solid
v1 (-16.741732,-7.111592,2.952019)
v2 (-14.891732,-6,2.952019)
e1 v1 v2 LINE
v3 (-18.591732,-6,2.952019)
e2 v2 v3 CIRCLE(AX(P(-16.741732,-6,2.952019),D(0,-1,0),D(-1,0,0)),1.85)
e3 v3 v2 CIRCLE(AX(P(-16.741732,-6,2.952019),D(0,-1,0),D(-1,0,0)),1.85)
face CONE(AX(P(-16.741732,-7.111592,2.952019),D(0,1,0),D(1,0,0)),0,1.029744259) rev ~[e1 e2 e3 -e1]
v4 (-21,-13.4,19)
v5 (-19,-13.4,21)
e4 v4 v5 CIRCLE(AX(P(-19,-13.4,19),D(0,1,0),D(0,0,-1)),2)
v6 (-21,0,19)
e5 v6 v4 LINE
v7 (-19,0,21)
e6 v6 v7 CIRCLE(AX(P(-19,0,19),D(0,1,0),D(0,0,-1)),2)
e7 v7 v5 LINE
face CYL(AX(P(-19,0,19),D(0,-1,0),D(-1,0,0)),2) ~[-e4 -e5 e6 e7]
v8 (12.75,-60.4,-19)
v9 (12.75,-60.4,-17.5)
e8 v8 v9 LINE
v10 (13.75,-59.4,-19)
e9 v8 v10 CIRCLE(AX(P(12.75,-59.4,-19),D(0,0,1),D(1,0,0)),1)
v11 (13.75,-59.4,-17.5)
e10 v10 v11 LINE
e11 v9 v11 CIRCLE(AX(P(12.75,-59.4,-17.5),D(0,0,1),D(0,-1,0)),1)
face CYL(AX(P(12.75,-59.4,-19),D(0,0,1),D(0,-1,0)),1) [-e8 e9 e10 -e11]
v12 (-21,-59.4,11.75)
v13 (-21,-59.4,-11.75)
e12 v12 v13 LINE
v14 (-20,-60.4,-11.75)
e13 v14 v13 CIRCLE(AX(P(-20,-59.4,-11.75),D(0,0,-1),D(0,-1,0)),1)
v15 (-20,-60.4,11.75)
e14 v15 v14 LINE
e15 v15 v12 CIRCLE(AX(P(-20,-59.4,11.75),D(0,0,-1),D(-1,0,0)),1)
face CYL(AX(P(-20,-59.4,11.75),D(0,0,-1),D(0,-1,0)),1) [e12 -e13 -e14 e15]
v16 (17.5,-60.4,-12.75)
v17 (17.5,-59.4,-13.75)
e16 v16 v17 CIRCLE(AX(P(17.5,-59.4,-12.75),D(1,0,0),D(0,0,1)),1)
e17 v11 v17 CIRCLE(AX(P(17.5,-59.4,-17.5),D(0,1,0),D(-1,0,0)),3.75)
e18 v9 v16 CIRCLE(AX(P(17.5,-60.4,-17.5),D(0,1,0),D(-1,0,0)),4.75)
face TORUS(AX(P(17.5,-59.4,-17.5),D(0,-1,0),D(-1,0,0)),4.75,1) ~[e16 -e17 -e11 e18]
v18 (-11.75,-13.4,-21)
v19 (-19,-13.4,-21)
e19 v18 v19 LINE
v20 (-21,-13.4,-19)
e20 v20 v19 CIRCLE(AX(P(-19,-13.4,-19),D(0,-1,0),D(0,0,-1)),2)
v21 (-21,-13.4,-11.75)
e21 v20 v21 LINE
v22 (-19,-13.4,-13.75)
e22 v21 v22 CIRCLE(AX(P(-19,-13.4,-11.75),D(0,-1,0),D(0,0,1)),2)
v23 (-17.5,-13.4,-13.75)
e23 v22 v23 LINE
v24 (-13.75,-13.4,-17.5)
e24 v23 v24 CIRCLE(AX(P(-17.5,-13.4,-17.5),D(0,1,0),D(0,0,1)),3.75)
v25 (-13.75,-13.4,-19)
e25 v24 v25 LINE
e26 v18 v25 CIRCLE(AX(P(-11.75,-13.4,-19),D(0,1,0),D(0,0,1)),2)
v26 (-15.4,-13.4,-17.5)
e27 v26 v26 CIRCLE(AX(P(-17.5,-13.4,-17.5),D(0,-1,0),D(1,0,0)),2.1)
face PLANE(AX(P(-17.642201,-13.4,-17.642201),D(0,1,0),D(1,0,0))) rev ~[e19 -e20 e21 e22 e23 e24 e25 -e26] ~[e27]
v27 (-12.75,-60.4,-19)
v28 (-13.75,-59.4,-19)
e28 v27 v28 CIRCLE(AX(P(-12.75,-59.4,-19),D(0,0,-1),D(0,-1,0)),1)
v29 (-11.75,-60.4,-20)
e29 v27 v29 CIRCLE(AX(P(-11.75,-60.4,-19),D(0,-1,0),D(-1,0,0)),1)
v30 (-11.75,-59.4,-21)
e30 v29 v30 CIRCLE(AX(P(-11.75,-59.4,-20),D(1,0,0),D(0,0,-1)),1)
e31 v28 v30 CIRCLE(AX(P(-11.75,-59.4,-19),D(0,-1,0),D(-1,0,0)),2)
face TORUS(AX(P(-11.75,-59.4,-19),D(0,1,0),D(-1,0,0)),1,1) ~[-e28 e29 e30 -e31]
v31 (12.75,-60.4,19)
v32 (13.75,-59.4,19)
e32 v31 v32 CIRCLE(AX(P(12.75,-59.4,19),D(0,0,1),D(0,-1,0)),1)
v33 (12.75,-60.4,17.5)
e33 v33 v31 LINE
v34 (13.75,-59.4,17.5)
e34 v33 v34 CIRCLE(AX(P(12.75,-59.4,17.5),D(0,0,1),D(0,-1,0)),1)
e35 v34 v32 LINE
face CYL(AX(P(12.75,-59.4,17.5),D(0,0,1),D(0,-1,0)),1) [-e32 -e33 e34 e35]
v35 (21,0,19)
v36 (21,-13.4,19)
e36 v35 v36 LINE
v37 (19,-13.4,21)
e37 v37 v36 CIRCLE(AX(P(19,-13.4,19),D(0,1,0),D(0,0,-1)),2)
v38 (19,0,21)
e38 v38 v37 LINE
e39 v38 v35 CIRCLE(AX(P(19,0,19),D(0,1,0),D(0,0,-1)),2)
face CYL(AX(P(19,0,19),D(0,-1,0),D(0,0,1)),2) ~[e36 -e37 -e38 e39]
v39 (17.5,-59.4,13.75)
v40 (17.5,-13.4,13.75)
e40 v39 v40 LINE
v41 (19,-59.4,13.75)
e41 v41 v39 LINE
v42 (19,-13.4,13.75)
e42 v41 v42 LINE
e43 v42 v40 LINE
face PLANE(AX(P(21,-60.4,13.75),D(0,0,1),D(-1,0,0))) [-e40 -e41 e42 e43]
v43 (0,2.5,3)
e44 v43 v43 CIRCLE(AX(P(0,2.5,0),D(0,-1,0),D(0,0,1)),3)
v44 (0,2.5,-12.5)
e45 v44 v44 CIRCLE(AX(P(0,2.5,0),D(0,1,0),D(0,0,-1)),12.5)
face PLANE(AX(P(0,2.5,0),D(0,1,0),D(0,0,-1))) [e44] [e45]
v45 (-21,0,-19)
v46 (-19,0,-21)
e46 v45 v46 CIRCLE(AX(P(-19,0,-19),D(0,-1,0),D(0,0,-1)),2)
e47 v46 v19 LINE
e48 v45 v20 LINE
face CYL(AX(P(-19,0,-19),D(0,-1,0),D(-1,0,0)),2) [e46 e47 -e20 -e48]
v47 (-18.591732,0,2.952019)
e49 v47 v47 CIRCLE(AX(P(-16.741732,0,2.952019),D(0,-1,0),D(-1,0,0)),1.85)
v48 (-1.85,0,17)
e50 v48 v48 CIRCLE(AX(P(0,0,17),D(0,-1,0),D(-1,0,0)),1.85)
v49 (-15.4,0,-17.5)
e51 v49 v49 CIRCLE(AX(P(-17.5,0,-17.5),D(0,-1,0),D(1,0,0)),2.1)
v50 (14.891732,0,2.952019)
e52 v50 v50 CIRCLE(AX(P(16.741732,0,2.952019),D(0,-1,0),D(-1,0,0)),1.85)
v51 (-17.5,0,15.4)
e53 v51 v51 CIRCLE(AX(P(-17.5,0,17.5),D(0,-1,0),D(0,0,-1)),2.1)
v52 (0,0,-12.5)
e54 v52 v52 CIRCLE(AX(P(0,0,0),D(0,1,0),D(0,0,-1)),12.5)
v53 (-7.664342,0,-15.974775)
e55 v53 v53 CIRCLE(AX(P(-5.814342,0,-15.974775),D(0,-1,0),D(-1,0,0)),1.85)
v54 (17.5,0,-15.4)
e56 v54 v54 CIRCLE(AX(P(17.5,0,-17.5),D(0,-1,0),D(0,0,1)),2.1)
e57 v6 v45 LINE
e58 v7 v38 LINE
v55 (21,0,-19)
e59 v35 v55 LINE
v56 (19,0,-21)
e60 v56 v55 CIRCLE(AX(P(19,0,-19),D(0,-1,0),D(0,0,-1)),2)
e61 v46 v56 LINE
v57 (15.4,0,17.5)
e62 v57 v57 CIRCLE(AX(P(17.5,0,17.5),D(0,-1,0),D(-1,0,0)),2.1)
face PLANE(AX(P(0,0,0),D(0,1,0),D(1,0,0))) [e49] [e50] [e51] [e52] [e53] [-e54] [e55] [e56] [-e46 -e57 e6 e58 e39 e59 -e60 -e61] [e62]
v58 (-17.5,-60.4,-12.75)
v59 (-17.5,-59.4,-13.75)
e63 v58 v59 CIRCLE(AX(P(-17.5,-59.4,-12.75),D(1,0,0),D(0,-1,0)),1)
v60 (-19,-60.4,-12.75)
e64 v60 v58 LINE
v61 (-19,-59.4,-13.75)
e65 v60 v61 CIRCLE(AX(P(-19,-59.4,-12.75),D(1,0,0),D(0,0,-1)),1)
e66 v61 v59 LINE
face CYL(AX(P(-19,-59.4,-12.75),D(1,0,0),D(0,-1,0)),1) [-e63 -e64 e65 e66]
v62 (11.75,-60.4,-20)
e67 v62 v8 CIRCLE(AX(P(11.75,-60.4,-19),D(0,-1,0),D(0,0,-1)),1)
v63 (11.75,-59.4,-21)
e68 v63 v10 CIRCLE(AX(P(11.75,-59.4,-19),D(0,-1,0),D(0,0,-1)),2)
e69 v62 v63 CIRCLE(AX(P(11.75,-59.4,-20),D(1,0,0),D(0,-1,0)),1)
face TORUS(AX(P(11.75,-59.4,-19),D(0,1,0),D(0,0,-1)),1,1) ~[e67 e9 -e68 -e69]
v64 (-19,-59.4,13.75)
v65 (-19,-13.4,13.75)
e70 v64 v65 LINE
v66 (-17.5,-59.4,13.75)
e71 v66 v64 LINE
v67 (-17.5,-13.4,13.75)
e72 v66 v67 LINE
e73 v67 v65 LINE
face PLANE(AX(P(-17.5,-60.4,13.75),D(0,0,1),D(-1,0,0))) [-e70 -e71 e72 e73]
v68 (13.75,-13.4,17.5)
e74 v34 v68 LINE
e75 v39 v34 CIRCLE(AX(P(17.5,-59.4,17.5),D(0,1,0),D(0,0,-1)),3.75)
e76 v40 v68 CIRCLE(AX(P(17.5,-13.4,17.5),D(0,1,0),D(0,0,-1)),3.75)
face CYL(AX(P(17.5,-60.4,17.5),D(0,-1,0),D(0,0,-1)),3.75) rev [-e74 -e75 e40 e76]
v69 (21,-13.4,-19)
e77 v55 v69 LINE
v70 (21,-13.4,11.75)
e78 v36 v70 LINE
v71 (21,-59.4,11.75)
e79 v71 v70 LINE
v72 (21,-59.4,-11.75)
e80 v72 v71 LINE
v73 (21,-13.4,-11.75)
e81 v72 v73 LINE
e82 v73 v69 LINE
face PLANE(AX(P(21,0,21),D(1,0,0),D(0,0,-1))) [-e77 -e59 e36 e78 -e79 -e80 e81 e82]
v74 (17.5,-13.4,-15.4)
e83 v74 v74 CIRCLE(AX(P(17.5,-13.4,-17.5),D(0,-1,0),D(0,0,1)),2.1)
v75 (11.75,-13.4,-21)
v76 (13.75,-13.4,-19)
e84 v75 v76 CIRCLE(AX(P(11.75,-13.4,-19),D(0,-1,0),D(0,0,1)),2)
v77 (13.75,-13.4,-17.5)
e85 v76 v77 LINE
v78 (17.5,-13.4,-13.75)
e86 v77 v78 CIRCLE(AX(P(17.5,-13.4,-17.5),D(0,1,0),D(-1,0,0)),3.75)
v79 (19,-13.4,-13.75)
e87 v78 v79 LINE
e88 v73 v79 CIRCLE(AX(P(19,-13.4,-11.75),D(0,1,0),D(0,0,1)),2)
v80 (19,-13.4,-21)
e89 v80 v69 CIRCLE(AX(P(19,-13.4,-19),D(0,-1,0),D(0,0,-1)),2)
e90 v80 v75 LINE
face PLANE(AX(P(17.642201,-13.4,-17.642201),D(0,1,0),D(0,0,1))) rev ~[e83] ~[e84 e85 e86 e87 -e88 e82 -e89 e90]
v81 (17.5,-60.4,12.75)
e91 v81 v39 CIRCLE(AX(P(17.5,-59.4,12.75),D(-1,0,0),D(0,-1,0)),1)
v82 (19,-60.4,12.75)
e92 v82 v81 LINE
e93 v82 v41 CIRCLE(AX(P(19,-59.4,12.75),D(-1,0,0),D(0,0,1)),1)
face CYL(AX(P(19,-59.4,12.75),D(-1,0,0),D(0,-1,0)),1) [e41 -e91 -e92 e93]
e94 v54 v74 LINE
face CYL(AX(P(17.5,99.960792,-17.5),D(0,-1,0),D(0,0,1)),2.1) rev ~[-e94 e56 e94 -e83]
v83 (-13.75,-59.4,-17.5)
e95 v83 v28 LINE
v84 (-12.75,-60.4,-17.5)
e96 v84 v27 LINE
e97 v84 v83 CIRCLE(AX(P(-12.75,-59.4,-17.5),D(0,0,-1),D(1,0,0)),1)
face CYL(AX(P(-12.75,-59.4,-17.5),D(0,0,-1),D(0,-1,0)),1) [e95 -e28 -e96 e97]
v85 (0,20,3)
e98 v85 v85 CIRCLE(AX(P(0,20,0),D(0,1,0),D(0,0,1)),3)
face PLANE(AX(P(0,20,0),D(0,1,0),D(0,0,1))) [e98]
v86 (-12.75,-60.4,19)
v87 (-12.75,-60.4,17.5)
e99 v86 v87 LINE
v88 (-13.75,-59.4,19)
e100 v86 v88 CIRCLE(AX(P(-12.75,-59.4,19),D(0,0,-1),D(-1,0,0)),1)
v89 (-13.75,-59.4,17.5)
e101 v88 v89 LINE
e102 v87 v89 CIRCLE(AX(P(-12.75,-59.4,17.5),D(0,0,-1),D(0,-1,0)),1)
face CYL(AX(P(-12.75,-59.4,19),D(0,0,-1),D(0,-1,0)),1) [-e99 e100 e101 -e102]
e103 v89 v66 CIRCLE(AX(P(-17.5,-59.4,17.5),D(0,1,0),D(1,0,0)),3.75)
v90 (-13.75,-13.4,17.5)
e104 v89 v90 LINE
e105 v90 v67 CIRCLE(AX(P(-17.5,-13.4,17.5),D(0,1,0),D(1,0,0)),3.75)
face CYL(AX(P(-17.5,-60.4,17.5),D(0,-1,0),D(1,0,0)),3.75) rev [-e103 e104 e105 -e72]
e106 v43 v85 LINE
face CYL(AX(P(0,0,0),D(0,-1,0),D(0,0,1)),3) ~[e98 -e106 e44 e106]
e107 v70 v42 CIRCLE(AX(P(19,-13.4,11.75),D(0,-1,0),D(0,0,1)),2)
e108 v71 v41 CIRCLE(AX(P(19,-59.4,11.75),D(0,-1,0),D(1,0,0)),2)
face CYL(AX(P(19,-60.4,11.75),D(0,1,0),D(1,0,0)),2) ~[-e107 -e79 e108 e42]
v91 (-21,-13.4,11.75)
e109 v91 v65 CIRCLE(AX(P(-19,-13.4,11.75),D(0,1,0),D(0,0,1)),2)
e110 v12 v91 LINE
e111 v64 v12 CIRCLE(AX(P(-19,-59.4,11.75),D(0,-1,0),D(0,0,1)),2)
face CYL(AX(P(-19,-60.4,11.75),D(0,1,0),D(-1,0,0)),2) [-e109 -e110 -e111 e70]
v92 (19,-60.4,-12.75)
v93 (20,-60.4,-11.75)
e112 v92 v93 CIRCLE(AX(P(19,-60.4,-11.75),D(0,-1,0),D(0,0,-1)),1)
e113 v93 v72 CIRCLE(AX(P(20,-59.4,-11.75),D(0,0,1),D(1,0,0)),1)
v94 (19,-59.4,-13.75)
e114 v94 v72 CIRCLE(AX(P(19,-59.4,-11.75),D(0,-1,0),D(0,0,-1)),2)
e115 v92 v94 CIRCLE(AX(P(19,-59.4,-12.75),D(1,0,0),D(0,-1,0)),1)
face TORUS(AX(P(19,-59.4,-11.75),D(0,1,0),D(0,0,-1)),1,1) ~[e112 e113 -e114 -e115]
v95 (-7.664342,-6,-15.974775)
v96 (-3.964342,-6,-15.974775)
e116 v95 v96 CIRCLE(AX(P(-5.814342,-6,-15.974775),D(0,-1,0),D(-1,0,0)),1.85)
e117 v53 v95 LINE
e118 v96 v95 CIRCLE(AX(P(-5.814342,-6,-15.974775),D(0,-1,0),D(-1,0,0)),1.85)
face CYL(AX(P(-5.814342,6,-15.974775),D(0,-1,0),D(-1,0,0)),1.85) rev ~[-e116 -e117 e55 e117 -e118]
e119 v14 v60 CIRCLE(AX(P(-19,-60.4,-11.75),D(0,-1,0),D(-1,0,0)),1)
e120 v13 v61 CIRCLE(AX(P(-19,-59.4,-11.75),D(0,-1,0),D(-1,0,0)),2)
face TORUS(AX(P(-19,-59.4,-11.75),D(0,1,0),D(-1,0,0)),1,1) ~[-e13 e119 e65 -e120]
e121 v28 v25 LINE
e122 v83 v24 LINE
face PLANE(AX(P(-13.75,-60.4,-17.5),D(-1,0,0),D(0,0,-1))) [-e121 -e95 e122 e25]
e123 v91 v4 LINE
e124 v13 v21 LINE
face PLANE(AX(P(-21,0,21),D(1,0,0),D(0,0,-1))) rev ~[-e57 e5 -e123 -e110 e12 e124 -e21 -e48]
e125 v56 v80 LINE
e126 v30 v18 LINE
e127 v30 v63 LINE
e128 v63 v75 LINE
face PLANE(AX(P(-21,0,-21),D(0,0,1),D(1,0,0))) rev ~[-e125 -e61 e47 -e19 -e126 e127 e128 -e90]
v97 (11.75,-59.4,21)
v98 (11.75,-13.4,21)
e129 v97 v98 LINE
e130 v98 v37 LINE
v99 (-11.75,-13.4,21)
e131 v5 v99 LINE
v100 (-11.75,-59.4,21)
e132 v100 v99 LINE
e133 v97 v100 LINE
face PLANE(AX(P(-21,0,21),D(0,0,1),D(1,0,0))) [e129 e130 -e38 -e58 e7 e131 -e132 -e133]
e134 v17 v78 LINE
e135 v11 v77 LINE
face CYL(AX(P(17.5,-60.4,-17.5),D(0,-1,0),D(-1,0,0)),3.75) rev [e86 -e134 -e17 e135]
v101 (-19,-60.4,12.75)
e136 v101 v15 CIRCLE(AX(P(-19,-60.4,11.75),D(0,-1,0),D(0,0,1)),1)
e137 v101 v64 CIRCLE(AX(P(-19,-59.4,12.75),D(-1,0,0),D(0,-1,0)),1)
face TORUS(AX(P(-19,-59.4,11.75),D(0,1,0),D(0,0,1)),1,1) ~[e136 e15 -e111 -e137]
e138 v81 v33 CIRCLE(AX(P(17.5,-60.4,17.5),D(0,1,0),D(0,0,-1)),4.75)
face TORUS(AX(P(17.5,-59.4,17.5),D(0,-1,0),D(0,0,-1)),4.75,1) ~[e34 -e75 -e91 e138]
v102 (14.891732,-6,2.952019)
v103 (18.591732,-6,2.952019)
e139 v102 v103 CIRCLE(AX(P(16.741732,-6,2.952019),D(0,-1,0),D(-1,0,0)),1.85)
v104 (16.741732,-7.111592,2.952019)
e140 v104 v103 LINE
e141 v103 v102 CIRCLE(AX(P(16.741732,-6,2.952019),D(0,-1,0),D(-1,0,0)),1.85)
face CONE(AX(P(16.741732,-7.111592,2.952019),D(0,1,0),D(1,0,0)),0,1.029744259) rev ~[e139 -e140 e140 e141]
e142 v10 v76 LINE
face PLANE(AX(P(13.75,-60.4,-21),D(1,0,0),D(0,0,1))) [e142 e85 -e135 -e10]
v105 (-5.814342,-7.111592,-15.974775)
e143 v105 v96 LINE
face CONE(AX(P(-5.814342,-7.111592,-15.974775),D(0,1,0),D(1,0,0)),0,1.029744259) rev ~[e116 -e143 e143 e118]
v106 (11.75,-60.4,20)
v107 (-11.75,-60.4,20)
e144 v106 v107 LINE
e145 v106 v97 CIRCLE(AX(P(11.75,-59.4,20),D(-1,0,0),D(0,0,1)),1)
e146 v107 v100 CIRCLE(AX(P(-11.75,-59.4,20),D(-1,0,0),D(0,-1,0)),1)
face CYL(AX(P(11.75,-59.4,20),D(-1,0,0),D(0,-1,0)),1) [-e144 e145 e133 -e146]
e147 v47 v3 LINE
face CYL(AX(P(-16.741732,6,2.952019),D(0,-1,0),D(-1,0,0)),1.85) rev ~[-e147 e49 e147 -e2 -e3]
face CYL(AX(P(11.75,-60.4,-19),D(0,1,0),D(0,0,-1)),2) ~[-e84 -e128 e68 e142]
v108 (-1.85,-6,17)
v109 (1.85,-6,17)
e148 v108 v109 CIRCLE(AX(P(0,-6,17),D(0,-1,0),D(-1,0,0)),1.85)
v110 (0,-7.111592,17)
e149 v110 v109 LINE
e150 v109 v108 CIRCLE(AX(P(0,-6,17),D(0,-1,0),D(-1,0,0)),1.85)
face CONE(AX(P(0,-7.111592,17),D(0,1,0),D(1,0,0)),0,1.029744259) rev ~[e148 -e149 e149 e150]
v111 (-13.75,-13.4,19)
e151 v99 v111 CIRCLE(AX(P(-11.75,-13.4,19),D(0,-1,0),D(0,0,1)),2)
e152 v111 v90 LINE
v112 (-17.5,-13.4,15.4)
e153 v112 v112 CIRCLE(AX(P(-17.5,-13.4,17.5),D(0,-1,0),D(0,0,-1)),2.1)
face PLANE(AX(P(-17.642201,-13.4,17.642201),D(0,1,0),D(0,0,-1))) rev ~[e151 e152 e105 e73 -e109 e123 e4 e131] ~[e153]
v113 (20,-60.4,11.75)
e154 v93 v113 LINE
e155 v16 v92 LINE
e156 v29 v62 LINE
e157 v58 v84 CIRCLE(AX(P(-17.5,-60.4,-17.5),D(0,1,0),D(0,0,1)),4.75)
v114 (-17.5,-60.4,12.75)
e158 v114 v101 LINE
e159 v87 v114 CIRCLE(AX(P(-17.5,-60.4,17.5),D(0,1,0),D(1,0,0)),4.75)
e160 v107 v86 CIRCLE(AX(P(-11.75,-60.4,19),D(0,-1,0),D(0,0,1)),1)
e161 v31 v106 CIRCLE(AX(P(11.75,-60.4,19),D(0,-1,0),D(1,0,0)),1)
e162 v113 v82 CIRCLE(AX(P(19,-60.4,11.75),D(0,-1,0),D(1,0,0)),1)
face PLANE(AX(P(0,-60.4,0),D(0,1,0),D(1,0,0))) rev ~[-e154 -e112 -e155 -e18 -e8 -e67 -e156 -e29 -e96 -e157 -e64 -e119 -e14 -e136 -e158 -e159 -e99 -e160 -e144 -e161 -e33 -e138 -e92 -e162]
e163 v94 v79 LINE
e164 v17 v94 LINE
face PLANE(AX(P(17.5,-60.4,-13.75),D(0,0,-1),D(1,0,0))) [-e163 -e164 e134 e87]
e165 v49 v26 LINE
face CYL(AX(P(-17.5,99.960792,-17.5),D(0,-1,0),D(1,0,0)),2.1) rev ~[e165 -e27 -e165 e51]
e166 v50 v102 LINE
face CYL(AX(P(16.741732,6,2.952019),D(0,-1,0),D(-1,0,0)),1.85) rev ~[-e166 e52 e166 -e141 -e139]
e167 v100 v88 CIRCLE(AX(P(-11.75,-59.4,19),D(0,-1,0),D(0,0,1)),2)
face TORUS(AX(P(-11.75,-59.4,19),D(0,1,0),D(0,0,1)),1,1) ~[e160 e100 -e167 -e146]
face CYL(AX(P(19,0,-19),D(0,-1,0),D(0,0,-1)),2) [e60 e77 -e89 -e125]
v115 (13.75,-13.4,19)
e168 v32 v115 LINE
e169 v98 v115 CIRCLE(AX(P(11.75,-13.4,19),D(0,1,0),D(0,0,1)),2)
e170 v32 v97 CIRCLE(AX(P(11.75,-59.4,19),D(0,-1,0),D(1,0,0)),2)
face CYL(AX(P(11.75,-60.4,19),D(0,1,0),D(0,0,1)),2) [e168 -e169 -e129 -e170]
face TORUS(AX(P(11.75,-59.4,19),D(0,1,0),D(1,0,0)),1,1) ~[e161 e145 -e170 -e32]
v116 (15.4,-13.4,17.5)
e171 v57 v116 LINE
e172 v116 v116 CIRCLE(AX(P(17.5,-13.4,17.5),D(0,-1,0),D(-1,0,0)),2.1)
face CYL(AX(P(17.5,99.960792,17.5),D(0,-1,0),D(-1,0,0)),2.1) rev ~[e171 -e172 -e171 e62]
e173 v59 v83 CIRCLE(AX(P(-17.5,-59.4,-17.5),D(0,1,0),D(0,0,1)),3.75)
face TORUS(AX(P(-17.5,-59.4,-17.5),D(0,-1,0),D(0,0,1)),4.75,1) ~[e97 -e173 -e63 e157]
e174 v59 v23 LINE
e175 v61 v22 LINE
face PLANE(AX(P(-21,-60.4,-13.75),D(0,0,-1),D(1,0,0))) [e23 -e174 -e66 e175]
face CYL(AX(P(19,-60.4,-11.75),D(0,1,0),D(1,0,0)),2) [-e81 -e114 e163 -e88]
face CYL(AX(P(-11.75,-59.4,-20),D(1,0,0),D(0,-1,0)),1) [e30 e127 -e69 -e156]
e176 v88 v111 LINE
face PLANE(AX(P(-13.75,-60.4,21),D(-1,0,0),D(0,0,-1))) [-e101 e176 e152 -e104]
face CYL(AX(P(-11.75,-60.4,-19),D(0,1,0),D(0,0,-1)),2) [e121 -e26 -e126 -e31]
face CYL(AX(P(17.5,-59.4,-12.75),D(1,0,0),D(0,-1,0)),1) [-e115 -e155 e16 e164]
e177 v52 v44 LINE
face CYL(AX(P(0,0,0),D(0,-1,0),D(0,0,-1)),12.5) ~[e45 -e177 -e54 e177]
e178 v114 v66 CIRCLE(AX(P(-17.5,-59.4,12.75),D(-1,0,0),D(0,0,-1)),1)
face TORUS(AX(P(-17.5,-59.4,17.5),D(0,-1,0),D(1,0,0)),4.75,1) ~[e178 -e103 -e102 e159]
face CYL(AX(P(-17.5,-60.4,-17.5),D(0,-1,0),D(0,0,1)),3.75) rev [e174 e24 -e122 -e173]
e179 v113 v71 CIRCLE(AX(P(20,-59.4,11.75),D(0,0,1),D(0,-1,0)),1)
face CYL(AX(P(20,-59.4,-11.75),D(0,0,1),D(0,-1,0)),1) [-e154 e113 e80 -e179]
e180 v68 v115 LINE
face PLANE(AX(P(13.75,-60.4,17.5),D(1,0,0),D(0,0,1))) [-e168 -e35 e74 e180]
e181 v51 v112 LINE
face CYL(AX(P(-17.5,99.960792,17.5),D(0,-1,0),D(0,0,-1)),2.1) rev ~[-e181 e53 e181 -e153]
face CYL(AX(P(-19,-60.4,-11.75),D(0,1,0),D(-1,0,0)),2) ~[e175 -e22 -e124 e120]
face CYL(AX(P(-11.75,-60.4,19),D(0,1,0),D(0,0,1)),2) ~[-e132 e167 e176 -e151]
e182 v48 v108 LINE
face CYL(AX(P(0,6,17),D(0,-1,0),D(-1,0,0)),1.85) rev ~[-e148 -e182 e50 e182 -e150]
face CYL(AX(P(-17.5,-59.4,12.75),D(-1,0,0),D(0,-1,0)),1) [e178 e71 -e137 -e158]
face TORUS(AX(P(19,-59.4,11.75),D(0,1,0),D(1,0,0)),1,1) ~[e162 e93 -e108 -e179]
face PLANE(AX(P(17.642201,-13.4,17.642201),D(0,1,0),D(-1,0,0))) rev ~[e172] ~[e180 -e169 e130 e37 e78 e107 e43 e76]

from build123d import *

# Parameters (mm, degrees)
SKETCH1_W                      = 42
SKETCH1_H                      = 42
BOSS_EXTRUDE1_DEPTH            = 60.4
SKETCH2_R                      = 12.5
BOSS_EXTRUDE2_DEPTH            = 2.5
SKETCH4_R                      = 3
BOSS_EXTRUDE3_DEPTH            = 20
CUT_EXTRUDE1_DEPTH             = 47
F_4_2_4_2_DIAMETER_HOLE1_D     = 4.2
CIRPATTERN1_COUNT              = 4
F_3_7_3_7_DIAMETER_HOLE1_D     = 3.7
F_3_7_3_7_DIAMETER_HOLE1_DEPTH = 6
F_3_7_3_7_DIAMETER_HOLE1_TIP   = 1.111592145
FILLET1_R                      = 2
FILLET2_R                      = 1


with BuildPart() as part:
    # Sketch1 → Boss-Extrude1 (new body)
    with BuildSketch(Plane(origin=(0, 0, 0), x_dir=(1, 0, 0), z_dir=(0, 1, 0))):
        Rectangle(SKETCH1_W, SKETCH1_H)
    extrude(amount=-BOSS_EXTRUDE1_DEPTH)

    # Sketch2 → Boss-Extrude2 (add)
    with BuildSketch(Plane(origin=(0, 0, 0), x_dir=(1, 0, 0), z_dir=(0, 1, 0))):
        with Locations(Location((0, 0, 0), (0, 0, 90))):
            Circle(SKETCH2_R)
    extrude(amount=BOSS_EXTRUDE2_DEPTH)

    # Sketch4 → Boss-Extrude3 (add)
    with BuildSketch(Plane(origin=(0, 0, 0), x_dir=(1, 0, 0), z_dir=(0, 1, 0))):
        with Locations(Location((0, 0, 0), (0, 0, 270))):
            Circle(SKETCH4_R)
    extrude(amount=BOSS_EXTRUDE3_DEPTH)

    # Sketch5 → Cut-Extrude1 (cut)
    with BuildSketch(Plane.XZ.offset(60.4)):
        with BuildLine():
            Line((21, 21), (21, 13.75))
            Line((21, 13.75), (17.5, 13.75))
            ThreePointArc((17.5, 13.75), (14.848349571, 14.848349571), (13.75, 17.5))
            Line((13.75, 17.5), (13.75, 21))
            Line((13.75, 21), (21, 21))
        make_face()
    cut_extrude1 = extrude(amount=-CUT_EXTRUDE1_DEPTH, mode=Mode.SUBTRACT)

    # Ø4.2 (4.2) Diameter Hole1 (through all)
    with Locations(Plane(origin=(0, 0, 0), x_dir=(1, 0, 0), z_dir=(0, 1, 0))):
        with Locations((17.5, -17.5)):
            f_4_2_4_2_diameter_hole1 = Hole(F_4_2_4_2_DIAMETER_HOLE1_D / 2)

    # CirPattern1: Cut-Extrude1, Ø4.2 (4.2) Diameter Hole1 ×4 about axis
    cirpattern1_axis = Axis((0, 0, 0), (0, 1, 0))
    add([cut_extrude1.rotate(cirpattern1_axis, i * 360 / CIRPATTERN1_COUNT) for i in range(1, CIRPATTERN1_COUNT)], mode=Mode.SUBTRACT)
    add([f_4_2_4_2_diameter_hole1.rotate(cirpattern1_axis, i * 360 / CIRPATTERN1_COUNT) for i in range(1, CIRPATTERN1_COUNT)], mode=Mode.SUBTRACT)

    # Ø3.7 (3.7) Diameter Hole1
    with Locations(Plane(origin=(0, 0, 0), x_dir=(1, 0, 0), z_dir=(0, 1, 0))):
        with Locations((-5.814342437, 15.974774553), (-16.741731801, -2.95201902), (0, -17), (16.741731801, -2.95201902)):
            Hole(F_3_7_3_7_DIAMETER_HOLE1_D / 2, depth=F_3_7_3_7_DIAMETER_HOLE1_DEPTH)
            with Locations((0, 0, -(F_3_7_3_7_DIAMETER_HOLE1_DEPTH + F_3_7_3_7_DIAMETER_HOLE1_TIP / 2))):  # 118° drill point
                Cone(0, F_3_7_3_7_DIAMETER_HOLE1_D / 2, F_3_7_3_7_DIAMETER_HOLE1_TIP, mode=Mode.SUBTRACT)

    # Fillet1
    fillet1_edges = [part.edges().sort_by_distance(p)[0] for p in [
        (21, -6.7, 21),
        (13.75, -36.9, 21),
        (21, -36.9, 13.75),
        (-21, -6.7, 21),
        (-21, -36.9, 13.75),
        (-13.75, -36.9, 21),
        (21, -6.7, -21),
        (-21, -6.7, -21),
        (-13.75, -36.9, -21),
        (-21, -36.9, -13.75),
        (21, -36.9, -13.75),
        (13.75, -36.9, -21),
    ]]
    fillet(fillet1_edges, radius=FILLET1_R)

    # Fillet2
    fillet2_edges = [part.edges().sort_by_distance(p)[0] for p in [
        (13.75, -60.4, 18.25),
        (-13.75, -60.4, -18.25),
        (0, -60.4, -21),
        (18.25, -60.4, -13.75),
        (21, -60.4, 0),
        (0, -60.4, 21),
        (-18.25, -60.4, 13.75),
        (-21, -60.4, 0),
        (-20.414213562, -60.4, -13.164213562),
        (-20.414213562, -60.4, 13.164213562),
        (-13.164213562, -60.4, -20.414213562),
        (13.164213562, -60.4, -20.414213562),
        (20.414213562, -60.4, -13.164213562),
        (20.414213562, -60.4, 13.164213562),
        (-13.164213562, -60.4, 20.414213562),
        (13.164213562, -60.4, 20.414213562),
        (14.848349571, -60.4, 14.848349571),
        (18.25, -60.4, 13.75),
        (-14.848349571, -60.4, 14.848349571),
        (-13.75, -60.4, 18.25),
        (-14.848349571, -60.4, -14.848349571),
        (-18.25, -60.4, -13.75),
        (14.848349571, -60.4, -14.848349571),
        (13.75, -60.4, -18.25),
    ]]
    fillet(fillet2_edges, radius=FILLET2_R)


solid = part.part
